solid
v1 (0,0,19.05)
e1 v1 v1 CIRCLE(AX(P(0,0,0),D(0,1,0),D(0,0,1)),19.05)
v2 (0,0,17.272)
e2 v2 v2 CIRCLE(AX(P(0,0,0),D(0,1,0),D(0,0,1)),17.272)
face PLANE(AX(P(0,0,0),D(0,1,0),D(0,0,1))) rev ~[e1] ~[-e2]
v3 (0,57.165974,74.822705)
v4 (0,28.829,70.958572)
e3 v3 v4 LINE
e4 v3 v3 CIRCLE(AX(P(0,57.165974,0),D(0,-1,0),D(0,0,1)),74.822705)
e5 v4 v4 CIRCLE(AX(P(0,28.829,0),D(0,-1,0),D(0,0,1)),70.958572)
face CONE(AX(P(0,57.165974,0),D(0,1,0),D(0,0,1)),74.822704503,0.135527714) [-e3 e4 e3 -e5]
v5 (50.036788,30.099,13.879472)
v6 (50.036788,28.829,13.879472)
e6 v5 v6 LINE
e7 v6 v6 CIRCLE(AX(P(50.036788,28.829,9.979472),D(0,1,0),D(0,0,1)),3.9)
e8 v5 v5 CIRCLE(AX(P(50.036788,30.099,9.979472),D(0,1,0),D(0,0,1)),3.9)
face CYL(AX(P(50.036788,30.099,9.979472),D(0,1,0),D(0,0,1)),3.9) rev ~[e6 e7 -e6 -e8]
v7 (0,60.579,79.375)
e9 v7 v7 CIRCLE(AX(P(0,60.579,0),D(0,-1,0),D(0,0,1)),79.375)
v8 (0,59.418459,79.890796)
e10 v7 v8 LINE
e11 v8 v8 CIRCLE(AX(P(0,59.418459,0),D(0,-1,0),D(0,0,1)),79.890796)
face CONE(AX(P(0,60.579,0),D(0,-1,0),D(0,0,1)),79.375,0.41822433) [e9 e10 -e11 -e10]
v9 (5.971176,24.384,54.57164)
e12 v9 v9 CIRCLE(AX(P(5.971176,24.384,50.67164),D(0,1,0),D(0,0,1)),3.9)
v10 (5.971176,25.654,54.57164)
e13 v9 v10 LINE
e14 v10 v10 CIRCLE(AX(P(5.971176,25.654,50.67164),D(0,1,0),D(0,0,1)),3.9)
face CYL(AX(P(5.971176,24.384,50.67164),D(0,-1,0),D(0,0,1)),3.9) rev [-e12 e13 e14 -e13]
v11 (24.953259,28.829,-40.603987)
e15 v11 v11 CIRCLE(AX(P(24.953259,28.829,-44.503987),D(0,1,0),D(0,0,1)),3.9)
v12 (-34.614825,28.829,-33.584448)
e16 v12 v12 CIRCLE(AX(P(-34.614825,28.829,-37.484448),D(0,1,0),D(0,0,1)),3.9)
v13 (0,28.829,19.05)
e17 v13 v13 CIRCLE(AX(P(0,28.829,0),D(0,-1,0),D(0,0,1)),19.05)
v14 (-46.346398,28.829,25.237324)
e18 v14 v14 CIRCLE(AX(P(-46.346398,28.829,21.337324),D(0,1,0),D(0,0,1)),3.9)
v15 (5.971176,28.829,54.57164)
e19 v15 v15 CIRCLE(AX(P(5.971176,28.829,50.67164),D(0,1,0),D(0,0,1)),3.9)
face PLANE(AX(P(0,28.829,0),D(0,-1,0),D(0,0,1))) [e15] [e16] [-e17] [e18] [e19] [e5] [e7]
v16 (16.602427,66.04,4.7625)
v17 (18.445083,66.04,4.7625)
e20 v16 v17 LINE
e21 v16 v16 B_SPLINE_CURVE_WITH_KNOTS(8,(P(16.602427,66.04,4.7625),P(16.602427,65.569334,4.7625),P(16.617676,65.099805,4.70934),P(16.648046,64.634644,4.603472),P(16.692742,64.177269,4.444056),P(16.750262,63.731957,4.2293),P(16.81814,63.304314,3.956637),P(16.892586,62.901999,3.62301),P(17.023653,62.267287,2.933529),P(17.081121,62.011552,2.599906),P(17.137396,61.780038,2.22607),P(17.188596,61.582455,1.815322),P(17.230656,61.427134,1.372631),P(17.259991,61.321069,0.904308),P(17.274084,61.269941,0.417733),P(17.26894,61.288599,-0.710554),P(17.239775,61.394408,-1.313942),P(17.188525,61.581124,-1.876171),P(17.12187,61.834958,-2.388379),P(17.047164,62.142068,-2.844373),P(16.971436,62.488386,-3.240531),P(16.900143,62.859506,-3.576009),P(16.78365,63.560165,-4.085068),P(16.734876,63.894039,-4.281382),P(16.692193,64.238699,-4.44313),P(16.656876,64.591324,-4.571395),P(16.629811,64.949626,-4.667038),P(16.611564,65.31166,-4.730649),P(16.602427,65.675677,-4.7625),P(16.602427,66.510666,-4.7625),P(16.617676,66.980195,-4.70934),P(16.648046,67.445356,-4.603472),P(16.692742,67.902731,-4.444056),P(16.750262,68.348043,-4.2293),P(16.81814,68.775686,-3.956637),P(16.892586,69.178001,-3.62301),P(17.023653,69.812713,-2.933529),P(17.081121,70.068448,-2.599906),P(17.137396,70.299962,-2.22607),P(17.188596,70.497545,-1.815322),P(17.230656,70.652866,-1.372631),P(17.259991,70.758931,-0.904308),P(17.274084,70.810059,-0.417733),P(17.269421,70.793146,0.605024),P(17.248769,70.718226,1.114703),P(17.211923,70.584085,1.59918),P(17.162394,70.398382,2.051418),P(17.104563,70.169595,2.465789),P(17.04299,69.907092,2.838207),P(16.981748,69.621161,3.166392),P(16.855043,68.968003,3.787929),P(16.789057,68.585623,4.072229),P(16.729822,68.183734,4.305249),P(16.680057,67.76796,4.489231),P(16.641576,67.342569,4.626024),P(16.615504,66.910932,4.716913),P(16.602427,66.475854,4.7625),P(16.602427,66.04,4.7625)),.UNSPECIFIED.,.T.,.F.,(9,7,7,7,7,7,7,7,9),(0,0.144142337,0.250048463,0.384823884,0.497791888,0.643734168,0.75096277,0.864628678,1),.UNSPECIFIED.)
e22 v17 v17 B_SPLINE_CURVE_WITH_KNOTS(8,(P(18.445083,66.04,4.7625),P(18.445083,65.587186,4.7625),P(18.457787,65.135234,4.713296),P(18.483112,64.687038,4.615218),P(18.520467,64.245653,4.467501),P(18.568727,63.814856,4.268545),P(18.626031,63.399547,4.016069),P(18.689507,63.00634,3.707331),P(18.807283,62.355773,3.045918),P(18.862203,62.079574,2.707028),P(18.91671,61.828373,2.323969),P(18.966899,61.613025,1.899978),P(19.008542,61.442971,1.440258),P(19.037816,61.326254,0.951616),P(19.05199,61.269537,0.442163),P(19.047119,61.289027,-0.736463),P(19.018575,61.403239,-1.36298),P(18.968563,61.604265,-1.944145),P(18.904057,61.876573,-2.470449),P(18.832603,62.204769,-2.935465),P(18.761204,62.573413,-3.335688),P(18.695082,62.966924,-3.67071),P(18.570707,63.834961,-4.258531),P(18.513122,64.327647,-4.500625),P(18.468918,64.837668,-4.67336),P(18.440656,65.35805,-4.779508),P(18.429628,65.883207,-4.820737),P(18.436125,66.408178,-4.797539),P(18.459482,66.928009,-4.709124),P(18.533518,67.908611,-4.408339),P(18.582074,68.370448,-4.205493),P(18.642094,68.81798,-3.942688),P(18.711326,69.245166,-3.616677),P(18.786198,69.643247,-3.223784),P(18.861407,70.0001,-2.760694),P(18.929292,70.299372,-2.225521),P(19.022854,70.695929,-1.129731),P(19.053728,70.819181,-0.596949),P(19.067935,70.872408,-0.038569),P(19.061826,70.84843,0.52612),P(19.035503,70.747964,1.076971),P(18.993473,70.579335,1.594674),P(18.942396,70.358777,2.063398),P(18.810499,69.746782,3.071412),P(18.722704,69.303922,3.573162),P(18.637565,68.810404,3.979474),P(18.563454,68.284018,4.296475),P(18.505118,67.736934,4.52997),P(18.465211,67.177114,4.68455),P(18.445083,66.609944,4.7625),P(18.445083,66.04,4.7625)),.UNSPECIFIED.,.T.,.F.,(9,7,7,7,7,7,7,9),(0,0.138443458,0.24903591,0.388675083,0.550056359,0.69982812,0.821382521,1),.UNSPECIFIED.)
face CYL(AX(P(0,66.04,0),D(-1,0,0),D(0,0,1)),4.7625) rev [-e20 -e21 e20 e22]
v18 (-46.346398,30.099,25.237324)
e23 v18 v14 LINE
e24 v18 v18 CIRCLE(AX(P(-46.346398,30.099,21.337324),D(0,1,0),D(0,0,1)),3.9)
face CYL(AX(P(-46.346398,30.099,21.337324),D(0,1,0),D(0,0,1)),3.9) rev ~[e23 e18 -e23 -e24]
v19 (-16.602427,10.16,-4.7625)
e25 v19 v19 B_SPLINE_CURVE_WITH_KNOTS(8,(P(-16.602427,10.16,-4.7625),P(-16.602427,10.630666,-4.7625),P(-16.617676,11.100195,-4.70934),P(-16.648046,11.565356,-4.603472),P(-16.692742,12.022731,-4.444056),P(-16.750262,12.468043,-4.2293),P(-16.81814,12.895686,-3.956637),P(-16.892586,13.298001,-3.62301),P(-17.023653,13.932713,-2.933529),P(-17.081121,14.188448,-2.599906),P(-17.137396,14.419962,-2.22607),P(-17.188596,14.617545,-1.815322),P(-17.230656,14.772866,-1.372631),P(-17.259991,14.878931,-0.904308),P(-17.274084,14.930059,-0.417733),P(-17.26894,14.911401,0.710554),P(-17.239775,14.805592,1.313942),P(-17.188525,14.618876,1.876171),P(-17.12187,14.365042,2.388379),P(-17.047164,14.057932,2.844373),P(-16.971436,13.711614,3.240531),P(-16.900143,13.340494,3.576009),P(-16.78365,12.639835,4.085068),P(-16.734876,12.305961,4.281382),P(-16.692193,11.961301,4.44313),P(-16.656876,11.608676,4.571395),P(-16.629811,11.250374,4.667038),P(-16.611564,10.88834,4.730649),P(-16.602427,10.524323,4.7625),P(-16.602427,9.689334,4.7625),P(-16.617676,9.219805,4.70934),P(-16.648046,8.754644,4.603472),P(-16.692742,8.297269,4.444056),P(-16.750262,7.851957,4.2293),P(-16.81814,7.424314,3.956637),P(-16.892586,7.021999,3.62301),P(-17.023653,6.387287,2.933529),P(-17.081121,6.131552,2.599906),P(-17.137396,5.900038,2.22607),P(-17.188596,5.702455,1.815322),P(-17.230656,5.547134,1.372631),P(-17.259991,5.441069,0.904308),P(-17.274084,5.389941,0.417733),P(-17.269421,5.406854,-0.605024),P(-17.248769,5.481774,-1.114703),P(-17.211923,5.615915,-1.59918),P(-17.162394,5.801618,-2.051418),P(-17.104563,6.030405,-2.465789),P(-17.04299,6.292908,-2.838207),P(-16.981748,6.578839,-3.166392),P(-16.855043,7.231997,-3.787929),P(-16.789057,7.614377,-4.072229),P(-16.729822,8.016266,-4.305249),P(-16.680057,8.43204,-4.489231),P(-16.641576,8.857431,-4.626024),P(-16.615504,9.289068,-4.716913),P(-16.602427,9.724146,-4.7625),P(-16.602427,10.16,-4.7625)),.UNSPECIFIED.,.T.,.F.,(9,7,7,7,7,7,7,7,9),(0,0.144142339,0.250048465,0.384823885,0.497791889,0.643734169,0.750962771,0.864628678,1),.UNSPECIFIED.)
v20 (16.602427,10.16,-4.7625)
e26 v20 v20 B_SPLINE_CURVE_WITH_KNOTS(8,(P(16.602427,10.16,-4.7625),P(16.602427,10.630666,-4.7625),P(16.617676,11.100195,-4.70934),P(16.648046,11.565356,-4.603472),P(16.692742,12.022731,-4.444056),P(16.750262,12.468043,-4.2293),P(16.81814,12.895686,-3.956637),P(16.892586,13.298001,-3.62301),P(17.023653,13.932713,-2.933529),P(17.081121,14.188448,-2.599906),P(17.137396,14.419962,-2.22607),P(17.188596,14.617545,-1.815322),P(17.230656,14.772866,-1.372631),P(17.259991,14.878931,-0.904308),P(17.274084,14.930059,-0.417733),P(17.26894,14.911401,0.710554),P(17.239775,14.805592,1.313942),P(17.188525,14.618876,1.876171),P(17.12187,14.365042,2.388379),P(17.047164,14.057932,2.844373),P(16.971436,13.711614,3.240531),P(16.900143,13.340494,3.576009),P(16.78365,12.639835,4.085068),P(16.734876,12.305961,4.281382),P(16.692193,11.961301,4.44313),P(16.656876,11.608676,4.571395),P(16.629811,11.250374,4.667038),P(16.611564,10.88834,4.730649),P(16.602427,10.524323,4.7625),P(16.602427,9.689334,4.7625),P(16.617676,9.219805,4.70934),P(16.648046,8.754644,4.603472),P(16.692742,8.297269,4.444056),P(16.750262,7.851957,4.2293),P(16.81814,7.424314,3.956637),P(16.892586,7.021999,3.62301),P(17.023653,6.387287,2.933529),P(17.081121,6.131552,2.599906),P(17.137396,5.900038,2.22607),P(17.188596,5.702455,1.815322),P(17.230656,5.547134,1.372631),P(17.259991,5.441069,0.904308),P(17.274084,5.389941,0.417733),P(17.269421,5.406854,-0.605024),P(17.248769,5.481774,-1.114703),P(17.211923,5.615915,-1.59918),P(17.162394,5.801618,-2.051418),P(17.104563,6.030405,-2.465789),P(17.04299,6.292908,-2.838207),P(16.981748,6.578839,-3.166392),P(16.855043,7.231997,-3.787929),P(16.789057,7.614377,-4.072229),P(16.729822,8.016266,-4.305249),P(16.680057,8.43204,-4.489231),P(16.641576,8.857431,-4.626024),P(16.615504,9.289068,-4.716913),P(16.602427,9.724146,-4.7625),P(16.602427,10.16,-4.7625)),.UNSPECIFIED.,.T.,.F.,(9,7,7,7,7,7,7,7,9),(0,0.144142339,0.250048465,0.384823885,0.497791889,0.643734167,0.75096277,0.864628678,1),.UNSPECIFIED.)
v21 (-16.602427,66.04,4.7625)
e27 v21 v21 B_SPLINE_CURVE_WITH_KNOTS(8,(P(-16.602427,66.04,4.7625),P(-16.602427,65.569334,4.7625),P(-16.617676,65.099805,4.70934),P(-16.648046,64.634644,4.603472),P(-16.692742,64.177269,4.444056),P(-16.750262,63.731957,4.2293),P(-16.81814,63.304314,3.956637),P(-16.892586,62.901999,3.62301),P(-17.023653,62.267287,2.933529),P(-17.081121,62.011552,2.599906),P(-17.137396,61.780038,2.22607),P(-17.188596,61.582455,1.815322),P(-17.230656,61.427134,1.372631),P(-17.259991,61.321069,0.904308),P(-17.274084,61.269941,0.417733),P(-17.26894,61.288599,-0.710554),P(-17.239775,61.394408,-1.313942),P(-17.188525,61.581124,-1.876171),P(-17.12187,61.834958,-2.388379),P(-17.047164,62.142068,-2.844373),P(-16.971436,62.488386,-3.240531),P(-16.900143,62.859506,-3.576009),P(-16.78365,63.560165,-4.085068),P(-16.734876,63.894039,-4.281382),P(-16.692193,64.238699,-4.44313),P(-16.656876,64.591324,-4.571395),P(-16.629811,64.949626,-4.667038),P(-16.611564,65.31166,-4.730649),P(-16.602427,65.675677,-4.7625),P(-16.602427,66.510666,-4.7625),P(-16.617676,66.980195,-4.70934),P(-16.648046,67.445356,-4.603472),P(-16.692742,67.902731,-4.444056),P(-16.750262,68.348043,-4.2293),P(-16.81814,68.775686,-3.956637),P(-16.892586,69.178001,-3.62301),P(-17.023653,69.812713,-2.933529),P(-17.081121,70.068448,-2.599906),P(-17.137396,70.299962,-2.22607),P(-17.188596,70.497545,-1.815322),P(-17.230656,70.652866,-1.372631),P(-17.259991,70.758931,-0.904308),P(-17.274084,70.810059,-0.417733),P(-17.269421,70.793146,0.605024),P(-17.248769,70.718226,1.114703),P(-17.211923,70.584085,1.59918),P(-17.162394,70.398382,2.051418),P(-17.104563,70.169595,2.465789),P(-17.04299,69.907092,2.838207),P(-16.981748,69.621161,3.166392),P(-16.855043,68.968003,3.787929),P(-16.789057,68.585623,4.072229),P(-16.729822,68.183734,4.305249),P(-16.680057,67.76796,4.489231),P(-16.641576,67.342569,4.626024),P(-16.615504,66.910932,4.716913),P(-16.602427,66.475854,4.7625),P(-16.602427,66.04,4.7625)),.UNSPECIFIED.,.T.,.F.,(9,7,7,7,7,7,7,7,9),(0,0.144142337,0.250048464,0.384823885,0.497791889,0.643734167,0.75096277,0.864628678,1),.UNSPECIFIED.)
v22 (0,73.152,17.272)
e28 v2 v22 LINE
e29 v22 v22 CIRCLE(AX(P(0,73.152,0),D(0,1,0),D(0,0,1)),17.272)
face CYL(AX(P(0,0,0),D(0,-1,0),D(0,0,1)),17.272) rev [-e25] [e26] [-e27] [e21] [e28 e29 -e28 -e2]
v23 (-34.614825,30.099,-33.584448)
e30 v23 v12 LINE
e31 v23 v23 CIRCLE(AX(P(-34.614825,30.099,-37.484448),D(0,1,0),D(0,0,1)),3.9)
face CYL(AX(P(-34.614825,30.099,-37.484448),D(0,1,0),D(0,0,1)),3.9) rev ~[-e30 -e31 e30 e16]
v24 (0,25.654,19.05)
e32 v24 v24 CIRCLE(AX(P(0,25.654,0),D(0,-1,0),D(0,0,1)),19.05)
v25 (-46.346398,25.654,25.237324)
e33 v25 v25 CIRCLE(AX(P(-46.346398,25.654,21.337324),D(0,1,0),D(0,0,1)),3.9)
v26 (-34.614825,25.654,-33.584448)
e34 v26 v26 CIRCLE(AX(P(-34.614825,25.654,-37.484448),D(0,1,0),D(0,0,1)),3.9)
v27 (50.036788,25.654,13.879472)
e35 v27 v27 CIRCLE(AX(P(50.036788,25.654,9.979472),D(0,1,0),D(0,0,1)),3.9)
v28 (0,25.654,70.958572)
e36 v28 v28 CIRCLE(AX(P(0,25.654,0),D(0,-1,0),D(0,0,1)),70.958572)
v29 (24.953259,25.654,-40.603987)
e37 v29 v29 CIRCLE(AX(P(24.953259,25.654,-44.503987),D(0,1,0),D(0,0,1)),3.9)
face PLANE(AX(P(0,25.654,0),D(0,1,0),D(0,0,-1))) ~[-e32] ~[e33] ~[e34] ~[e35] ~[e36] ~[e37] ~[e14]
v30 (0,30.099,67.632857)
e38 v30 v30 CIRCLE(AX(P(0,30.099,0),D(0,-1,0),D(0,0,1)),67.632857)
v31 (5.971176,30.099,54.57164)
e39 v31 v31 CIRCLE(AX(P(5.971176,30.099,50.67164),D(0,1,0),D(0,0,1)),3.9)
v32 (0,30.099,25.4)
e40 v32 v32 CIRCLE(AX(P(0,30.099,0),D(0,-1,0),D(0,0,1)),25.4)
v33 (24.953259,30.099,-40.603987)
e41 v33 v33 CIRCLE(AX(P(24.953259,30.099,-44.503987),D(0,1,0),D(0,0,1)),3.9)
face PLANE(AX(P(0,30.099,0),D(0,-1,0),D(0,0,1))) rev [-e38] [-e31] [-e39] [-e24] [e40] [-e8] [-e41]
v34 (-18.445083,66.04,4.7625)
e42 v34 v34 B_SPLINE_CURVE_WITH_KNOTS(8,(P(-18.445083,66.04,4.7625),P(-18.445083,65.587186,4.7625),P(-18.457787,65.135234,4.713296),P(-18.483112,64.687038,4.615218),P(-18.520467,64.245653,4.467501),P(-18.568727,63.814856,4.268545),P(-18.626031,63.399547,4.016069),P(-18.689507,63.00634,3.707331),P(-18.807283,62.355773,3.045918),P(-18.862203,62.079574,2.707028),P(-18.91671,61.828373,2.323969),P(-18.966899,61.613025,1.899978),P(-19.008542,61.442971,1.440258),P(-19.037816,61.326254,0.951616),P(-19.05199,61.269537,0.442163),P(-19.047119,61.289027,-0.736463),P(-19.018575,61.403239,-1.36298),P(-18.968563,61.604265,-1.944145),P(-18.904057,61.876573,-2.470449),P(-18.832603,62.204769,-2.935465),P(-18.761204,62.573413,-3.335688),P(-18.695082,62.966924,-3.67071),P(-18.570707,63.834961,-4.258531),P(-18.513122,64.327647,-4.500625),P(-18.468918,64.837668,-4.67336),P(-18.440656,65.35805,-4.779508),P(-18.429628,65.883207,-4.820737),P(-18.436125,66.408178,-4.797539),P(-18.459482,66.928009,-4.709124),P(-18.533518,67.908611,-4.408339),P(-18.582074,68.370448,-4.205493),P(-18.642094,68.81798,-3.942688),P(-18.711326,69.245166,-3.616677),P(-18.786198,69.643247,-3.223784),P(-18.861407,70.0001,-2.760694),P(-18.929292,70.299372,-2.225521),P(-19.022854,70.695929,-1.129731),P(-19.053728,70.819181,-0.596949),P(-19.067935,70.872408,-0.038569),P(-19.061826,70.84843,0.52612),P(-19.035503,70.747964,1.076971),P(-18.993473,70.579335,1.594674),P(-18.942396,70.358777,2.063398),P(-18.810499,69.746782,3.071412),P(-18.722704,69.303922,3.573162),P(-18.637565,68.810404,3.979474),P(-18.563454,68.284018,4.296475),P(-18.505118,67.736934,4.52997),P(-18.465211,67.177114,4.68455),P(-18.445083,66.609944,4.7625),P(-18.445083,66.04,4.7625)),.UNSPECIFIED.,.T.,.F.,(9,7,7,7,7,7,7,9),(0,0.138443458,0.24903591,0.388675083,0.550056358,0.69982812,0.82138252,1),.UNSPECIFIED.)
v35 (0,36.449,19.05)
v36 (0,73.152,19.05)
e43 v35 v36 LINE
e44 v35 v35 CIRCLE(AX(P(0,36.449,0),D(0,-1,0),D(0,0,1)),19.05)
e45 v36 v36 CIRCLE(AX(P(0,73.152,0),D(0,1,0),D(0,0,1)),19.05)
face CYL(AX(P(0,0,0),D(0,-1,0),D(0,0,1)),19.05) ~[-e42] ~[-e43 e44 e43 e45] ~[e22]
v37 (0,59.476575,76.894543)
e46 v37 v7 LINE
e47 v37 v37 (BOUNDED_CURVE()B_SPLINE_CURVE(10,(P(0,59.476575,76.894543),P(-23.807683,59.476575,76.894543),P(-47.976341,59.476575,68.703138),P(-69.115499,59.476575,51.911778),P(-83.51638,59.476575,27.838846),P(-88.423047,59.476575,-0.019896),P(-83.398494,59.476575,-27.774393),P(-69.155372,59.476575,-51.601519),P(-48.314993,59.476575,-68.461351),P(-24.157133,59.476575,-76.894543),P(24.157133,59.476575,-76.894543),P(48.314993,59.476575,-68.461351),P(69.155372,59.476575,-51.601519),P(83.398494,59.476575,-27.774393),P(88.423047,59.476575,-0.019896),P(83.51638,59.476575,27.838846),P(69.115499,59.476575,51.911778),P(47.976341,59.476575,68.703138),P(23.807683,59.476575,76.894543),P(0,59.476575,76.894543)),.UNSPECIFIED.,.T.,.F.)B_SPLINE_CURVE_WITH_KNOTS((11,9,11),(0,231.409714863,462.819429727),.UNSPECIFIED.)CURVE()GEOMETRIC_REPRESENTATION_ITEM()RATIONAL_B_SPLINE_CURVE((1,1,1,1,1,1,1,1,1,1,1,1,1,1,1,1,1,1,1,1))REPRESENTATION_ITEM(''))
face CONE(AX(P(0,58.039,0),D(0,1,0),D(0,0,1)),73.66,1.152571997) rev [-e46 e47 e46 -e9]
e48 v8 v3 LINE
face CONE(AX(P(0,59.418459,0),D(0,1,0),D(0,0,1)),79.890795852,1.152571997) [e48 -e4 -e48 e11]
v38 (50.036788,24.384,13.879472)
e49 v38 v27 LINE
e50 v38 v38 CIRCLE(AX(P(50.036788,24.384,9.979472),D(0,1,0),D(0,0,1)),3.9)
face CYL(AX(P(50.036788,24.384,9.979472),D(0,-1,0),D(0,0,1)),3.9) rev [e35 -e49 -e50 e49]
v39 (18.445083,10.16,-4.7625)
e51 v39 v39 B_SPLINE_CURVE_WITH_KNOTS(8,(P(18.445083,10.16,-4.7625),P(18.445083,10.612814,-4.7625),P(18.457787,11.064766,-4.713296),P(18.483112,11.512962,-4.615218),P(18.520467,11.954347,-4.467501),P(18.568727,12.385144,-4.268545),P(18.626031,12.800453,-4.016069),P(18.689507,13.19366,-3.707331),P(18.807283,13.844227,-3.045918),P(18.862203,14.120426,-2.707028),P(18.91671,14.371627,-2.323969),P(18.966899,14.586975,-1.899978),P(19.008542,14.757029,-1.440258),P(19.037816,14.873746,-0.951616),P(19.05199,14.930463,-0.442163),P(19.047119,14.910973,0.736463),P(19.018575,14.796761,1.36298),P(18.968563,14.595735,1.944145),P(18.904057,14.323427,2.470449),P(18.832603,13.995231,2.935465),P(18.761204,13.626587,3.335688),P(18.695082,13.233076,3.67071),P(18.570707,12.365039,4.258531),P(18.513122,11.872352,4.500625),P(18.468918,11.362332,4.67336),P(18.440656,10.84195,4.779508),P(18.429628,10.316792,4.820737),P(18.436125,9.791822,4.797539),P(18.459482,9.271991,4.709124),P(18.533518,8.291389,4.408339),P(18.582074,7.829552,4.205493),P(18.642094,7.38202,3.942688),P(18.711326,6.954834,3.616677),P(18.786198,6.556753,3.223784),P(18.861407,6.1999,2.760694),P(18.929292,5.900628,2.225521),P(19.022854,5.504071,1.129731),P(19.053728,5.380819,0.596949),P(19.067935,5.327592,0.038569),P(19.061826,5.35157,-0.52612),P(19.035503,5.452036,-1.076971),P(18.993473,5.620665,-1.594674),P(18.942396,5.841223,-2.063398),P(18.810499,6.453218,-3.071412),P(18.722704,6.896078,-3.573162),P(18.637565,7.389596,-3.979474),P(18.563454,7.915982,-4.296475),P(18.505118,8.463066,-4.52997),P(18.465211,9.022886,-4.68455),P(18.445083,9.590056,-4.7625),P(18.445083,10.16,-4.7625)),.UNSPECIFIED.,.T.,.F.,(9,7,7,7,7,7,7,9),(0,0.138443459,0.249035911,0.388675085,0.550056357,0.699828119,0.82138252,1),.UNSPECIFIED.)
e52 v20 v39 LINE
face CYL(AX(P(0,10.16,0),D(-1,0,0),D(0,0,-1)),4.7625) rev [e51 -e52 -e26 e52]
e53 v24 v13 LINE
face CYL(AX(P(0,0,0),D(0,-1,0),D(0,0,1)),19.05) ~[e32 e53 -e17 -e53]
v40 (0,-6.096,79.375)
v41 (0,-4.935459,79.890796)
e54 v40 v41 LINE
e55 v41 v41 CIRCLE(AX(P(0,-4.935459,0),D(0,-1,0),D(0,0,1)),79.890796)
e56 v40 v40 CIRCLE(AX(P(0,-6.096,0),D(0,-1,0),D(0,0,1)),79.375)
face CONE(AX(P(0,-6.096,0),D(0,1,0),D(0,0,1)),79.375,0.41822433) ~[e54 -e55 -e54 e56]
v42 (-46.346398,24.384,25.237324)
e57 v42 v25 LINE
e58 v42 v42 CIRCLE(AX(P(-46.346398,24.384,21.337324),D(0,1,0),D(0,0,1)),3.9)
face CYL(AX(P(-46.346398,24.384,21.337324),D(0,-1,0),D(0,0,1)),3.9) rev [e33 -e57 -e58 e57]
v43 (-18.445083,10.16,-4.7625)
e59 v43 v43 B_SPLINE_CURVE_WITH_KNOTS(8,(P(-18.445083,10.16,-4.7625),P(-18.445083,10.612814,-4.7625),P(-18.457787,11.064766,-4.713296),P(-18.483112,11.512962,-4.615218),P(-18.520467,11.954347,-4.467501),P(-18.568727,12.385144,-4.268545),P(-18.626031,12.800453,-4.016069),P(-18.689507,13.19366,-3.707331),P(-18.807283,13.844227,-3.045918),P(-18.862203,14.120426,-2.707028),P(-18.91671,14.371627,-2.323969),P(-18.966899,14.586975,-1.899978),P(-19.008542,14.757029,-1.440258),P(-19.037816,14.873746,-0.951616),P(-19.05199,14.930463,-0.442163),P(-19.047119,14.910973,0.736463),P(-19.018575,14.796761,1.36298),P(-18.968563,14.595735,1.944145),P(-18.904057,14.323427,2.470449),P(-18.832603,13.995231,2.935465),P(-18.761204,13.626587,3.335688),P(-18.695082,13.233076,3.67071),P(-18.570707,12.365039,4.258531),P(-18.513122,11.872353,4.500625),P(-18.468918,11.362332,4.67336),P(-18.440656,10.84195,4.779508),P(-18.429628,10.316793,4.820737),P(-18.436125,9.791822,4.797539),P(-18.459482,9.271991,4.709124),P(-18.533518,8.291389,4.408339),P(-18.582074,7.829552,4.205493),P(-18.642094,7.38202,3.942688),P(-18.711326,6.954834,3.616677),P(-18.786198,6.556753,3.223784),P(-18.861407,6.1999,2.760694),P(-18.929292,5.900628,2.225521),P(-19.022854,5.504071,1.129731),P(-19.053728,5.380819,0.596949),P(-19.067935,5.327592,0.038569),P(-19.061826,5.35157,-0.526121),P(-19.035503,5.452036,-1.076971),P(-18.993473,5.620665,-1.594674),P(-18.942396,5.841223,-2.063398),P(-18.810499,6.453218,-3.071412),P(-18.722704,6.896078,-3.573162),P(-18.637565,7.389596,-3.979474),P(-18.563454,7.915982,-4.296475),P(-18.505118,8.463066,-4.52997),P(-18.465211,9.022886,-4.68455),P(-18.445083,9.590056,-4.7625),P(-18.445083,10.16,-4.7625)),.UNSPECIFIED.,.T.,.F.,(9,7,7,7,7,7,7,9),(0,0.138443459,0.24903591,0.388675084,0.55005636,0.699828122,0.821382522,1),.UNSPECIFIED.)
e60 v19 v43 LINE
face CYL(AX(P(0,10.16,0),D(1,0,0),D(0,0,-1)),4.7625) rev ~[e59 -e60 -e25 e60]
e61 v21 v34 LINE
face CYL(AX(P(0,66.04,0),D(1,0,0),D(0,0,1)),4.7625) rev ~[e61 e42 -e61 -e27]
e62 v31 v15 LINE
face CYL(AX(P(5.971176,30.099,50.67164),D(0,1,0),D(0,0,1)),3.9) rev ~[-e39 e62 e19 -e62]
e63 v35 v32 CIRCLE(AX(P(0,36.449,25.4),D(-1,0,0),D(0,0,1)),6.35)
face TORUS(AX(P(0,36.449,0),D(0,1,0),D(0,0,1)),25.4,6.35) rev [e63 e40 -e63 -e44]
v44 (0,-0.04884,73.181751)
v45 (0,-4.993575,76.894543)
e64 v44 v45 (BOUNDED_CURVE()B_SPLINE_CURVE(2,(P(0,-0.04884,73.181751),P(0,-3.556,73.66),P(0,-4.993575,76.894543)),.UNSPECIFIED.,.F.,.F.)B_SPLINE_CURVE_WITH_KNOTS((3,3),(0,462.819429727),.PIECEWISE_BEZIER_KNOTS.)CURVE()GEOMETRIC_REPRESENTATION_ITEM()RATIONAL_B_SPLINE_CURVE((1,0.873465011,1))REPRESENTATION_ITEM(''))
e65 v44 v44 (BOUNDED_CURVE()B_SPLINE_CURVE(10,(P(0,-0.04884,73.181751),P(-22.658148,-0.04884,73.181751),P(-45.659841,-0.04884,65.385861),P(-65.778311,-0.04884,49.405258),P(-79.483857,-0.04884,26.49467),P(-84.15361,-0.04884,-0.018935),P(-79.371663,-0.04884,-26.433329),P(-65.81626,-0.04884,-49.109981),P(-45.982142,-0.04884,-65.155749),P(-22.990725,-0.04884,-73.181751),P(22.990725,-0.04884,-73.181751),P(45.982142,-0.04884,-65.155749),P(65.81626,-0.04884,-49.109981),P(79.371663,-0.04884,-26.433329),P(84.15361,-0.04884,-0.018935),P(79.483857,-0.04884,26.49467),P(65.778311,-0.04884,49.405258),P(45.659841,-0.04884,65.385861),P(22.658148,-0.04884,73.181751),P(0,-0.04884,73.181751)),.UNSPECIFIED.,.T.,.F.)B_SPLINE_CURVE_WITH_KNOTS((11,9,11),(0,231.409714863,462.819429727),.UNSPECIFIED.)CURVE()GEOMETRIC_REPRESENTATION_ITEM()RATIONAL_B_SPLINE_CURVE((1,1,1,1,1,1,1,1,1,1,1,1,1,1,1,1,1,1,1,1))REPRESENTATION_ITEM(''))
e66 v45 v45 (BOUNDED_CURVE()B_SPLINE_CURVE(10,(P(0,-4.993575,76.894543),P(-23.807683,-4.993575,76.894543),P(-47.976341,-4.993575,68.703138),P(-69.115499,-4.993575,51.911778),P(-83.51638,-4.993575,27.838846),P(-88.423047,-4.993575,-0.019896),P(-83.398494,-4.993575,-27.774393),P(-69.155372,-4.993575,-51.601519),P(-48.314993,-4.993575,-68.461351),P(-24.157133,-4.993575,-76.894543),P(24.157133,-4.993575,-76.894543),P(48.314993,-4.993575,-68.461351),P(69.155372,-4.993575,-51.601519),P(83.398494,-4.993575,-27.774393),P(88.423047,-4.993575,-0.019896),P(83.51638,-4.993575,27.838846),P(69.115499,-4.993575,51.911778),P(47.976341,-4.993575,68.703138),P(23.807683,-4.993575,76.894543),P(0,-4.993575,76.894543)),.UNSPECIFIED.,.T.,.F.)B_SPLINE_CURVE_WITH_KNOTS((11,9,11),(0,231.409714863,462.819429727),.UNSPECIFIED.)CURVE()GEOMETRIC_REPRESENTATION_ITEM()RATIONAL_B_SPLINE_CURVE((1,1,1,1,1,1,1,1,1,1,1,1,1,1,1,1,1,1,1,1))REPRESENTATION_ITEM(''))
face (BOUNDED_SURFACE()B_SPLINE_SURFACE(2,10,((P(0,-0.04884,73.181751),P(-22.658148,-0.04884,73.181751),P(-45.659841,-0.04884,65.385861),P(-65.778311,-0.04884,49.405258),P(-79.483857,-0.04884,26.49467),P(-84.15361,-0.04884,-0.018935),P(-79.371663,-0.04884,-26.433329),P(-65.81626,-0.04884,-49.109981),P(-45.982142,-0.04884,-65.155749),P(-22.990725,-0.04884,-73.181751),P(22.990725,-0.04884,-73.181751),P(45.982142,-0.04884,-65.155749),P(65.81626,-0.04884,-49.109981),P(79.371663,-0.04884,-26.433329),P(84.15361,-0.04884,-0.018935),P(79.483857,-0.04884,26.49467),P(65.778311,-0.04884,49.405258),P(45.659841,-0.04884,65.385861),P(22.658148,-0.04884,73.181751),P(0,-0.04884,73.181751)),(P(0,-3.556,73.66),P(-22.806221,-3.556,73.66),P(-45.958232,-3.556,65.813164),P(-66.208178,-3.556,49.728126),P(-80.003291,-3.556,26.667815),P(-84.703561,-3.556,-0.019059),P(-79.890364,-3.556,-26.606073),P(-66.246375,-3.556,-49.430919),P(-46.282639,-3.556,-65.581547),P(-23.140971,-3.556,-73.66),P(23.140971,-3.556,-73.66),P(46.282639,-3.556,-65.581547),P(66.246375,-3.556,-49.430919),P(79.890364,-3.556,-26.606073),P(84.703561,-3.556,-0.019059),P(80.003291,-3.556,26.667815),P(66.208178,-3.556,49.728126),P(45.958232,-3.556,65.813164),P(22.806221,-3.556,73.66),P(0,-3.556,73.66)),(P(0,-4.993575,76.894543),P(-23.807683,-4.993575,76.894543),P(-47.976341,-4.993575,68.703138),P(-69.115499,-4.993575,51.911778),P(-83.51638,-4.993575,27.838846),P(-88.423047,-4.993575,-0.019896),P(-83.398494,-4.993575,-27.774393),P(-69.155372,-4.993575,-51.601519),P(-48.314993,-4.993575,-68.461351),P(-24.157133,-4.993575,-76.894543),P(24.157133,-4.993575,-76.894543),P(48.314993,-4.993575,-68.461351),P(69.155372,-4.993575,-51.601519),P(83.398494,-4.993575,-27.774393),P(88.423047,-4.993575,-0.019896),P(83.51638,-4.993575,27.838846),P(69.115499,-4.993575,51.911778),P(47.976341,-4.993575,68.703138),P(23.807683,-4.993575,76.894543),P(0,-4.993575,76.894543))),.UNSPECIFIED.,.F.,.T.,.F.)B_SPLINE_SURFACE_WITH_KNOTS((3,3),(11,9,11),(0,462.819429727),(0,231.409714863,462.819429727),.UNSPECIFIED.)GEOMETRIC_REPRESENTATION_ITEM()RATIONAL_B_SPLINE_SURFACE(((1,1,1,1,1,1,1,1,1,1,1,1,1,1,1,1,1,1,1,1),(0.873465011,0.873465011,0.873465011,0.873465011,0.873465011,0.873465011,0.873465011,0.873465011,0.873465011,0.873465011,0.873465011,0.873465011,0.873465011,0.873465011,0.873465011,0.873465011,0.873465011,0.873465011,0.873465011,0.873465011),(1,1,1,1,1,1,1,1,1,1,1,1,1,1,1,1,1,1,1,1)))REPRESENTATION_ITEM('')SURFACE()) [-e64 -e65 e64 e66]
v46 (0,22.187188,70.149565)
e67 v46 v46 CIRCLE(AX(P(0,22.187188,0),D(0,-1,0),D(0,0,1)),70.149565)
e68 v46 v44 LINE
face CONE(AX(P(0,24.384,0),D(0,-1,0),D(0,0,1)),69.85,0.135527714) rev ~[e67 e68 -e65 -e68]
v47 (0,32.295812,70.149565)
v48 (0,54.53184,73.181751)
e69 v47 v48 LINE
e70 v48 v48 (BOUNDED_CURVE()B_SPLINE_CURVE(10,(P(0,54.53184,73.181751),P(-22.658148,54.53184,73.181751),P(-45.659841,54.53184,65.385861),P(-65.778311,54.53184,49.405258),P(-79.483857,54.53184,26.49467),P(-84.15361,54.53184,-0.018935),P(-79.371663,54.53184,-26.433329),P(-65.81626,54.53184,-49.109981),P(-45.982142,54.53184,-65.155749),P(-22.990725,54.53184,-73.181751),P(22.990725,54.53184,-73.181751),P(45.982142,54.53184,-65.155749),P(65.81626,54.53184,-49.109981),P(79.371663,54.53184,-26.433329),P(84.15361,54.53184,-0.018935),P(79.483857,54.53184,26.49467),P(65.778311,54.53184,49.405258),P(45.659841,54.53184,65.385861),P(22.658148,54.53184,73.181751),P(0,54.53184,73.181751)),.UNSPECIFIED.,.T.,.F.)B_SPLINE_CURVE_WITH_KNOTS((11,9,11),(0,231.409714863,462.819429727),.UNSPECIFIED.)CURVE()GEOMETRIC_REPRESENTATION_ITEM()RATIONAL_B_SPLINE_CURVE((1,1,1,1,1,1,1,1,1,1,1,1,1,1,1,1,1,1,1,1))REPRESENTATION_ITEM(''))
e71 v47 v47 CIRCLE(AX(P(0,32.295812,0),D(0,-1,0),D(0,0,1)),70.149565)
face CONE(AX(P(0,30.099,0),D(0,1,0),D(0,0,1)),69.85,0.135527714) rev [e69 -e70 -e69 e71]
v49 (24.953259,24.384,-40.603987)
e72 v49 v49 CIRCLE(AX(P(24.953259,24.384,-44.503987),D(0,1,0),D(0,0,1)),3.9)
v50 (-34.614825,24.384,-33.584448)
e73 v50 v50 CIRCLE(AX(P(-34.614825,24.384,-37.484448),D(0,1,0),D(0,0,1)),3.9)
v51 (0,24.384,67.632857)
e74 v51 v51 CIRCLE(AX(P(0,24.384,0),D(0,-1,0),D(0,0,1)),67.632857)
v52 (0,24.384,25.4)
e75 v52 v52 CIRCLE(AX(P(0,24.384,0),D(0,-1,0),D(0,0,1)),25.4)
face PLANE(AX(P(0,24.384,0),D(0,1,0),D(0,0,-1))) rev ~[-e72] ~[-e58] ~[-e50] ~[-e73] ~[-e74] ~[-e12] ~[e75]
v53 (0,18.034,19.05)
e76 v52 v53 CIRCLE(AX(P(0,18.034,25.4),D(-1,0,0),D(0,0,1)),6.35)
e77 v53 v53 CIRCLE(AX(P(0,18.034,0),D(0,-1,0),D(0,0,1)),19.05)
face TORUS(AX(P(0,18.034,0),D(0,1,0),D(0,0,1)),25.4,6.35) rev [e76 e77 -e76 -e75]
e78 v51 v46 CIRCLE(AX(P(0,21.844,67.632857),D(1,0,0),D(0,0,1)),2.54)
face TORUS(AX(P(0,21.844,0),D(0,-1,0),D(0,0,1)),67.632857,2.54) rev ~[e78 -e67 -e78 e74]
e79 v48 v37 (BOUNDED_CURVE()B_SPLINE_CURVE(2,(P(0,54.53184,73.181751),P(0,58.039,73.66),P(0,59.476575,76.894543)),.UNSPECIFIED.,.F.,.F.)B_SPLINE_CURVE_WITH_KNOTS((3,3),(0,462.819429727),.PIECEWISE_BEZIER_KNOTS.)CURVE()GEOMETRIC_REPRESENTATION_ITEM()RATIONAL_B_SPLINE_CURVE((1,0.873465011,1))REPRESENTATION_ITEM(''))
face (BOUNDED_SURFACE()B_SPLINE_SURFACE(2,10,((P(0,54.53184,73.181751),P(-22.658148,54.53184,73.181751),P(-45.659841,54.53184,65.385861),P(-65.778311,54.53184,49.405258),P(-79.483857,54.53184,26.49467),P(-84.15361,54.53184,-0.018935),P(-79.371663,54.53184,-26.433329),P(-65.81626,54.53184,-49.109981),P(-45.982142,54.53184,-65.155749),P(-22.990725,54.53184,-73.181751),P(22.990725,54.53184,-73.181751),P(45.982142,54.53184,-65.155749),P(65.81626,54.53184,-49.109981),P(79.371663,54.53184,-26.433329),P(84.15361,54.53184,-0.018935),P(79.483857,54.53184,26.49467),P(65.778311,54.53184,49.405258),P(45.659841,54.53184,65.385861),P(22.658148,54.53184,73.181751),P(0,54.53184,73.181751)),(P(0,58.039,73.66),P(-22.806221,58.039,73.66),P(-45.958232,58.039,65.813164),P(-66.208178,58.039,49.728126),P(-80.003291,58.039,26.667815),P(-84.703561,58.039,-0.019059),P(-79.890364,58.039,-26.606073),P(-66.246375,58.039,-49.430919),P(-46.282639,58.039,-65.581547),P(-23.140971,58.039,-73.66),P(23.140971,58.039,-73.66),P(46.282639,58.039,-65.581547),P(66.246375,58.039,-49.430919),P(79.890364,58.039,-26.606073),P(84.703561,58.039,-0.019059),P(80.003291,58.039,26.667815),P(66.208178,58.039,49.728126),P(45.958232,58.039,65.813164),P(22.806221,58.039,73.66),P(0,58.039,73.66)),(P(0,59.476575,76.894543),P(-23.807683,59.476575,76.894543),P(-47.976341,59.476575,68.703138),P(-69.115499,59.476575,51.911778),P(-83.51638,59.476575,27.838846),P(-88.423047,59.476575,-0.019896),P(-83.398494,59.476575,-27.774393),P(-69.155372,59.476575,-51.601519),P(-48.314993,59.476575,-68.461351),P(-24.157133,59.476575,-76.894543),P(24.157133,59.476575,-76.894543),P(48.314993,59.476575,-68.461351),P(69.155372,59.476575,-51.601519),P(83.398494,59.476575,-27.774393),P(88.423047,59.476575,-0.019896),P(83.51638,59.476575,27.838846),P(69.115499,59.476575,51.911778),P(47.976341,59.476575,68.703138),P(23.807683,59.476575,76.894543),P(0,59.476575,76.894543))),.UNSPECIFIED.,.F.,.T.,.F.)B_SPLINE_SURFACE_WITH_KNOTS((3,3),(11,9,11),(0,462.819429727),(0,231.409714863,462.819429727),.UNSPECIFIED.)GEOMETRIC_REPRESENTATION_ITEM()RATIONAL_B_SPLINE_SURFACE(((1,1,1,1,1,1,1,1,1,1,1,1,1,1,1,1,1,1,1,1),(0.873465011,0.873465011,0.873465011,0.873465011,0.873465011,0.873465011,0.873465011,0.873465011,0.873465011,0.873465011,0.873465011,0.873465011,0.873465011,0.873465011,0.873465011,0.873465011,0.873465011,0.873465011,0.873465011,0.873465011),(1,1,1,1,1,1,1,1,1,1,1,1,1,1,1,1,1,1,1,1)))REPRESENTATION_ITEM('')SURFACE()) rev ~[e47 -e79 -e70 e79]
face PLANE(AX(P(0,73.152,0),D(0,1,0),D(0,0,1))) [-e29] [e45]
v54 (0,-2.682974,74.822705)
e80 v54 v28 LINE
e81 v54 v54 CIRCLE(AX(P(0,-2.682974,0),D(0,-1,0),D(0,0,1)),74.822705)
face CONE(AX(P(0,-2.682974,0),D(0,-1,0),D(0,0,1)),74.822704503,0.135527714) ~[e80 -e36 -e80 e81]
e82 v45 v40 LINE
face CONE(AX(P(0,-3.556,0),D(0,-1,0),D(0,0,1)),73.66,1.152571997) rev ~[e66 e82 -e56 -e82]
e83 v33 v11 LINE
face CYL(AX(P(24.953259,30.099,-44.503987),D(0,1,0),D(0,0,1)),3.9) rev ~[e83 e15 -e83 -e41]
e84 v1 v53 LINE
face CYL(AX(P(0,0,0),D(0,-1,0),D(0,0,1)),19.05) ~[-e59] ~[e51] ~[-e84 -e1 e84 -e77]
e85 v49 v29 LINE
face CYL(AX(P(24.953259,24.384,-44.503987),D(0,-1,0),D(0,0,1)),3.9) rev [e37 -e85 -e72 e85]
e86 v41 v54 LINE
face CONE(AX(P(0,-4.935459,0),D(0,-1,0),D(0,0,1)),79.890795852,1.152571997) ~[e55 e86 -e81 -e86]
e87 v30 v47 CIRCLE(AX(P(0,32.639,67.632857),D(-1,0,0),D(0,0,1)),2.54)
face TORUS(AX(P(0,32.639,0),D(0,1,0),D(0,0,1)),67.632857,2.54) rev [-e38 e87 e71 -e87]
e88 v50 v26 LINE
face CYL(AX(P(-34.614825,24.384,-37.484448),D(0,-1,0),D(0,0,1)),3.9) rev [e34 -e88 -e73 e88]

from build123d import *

# Parameters (mm, degrees)
SKETCH1_R                      = 19.05
SKETCH1_R_2                    = 17.272
BOSS_EXTRUDE1_DEPTH            = 73.152
FILLET1_R                      = 6.35
FILLET2_R                      = 2.54
FILLET3_R                      = 6.35
CUT_EXTRUDE1_REACH             = 122.908
SKETCH2_R                      = 3.9
FILLET1_OF_MIRROR1_R           = 6.35
FILLET2_OF_MIRROR1_R           = 2.54
FILLET3_OF_MIRROR1_R           = 6.35
CUT_EXTRUDE2_REACH             = 136.597
SKETCH4_R                      = 4.7625
CUT_EXTRUDE2_DIRECTION_2_REACH = 136.597


with BuildPart() as part:
    # Sketch1 → Boss-Extrude1 (new body)
    with BuildSketch(Plane(origin=(0, 0, 0), x_dir=(1, 0, 0), z_dir=(0, 1, 0))):
        with Locations(Location((0, 0, 0), (0, 0, 270))):
            Circle(SKETCH1_R)
        with Locations(Location((0, 0, 0), (0, 0, 270))):
            Circle(SKETCH1_R_2, mode=Mode.SUBTRACT)
    extrude(amount=BOSS_EXTRUDE1_DEPTH)

    # Sketch3 → Revolve1 (revolve)
    with BuildSketch(Plane(origin=(0, 0, 0), x_dir=(0, 0, -1), z_dir=(1, 0, 0))):
        Polygon((-19.05, 30.099), (-69.85, 30.099), (-73.66, 58.039), (-79.375, 60.579), (-79.890795852, 59.418459333), (-74.822704503, 57.165974289), (-70.958571646, 28.829), (-19.05, 28.829), align=None)
    revolve1 = revolve(axis=Axis((0, 73.152, 0), (0, -1, 0)))

    # Fillet1
    fillet1_edges = [part.edges().sort_by_distance(p)[0] for p in [
        (0, 30.099, -19.05),
    ]]
    fillet(fillet1_edges, radius=FILLET1_R)

    # Fillet2
    fillet2_edges = [part.edges().sort_by_distance(p)[0] for p in [
        (0, 30.099, -69.85),
    ]]
    fillet(fillet2_edges, radius=FILLET2_R)

    # Fillet3
    fillet3_edges = [part.edges().sort_by_distance(p)[0] for p in [
        (0, 58.039, -73.66),
    ]]
    fillet(fillet3_edges, radius=FILLET3_R)

    # Sketch2 → Cut-Extrude1 (cut, up to next)
    with BuildSketch(Plane(origin=(0, 30.099, 0), x_dir=(1, 0, 0), z_dir=(0, 1, 0)), mode=Mode.PRIVATE) as cut_extrude1_sk1:
        with Locations(Location((-34.614825389, 37.48444822, 0), (0, 0, 270))):
            Circle(SKETCH2_R)
    cut_extrude1_tool1 = extrude(cut_extrude1_sk1.sketch, amount=-CUT_EXTRUDE1_REACH, mode=Mode.PRIVATE) & part.part
    # Sketch2 → Cut-Extrude1 (cut, up to next)
    with BuildSketch(Plane(origin=(0, 30.099, 0), x_dir=(1, 0, 0), z_dir=(0, 1, 0)), mode=Mode.PRIVATE) as cut_extrude1_sk2:
        with Locations(Location((24.953259436, 44.503986772, 0), (0, 0, 270))):
            Circle(SKETCH2_R)
    cut_extrude1_tool2 = extrude(cut_extrude1_sk2.sketch, amount=-CUT_EXTRUDE1_REACH, mode=Mode.PRIVATE) & part.part
    # Sketch2 → Cut-Extrude1 (cut, up to next)
    with BuildSketch(Plane(origin=(0, 30.099, 0), x_dir=(1, 0, 0), z_dir=(0, 1, 0)), mode=Mode.PRIVATE) as cut_extrude1_sk3:
        with Locations(Location((50.036787851, -9.97947176, 0), (0, 0, 270))):
            Circle(SKETCH2_R)
    cut_extrude1_tool3 = extrude(cut_extrude1_sk3.sketch, amount=-CUT_EXTRUDE1_REACH, mode=Mode.PRIVATE) & part.part
    # Sketch2 → Cut-Extrude1 (cut, up to next)
    with BuildSketch(Plane(origin=(0, 30.099, 0), x_dir=(1, 0, 0), z_dir=(0, 1, 0)), mode=Mode.PRIVATE) as cut_extrude1_sk4:
        with Locations(Location((5.971176144, -50.671639509, 0), (0, 0, 270))):
            Circle(SKETCH2_R)
    cut_extrude1_tool4 = extrude(cut_extrude1_sk4.sketch, amount=-CUT_EXTRUDE1_REACH, mode=Mode.PRIVATE) & part.part
    # Sketch2 → Cut-Extrude1 (cut, up to next)
    with BuildSketch(Plane(origin=(0, 30.099, 0), x_dir=(1, 0, 0), z_dir=(0, 1, 0)), mode=Mode.PRIVATE) as cut_extrude1_sk5:
        with Locations(Location((-46.346398042, -21.337323722, 0), (0, 0, 270))):
            Circle(SKETCH2_R)
    cut_extrude1_tool5 = extrude(cut_extrude1_sk5.sketch, amount=-CUT_EXTRUDE1_REACH, mode=Mode.PRIVATE) & part.part
    cut_extrude1_1 = cut_extrude1_tool1.solids().sort_by_distance((-34.614825, 30.099, -37.484448))[0]
    add(cut_extrude1_1, mode=Mode.SUBTRACT)
    cut_extrude1_2 = cut_extrude1_tool2.solids().sort_by_distance((24.953259, 30.099, -44.503987))[0]
    add(cut_extrude1_2, mode=Mode.SUBTRACT)
    cut_extrude1_3 = cut_extrude1_tool3.solids().sort_by_distance((50.036788, 30.099, 9.979472))[0]
    add(cut_extrude1_3, mode=Mode.SUBTRACT)
    cut_extrude1_4 = cut_extrude1_tool4.solids().sort_by_distance((5.971176, 30.099, 50.67164))[0]
    add(cut_extrude1_4, mode=Mode.SUBTRACT)
    cut_extrude1_5 = cut_extrude1_tool5.solids().sort_by_distance((-46.346398, 30.099, 21.337324))[0]
    add(cut_extrude1_5, mode=Mode.SUBTRACT)
    cut_extrude1 = cut_extrude1_1 + cut_extrude1_2 + cut_extrude1_3 + cut_extrude1_4 + cut_extrude1_5  # Cut-Extrude1 as one shape, for the pattern or mirror that repeats it

    # Mirror1: Revolve1, Cut-Extrude1 across plane
    add(revolve1.mirror(Plane(origin=(0, 27.2415, 0), x_dir=(0, 0, 1), z_dir=(0, -1, 0))))
    add(cut_extrude1.mirror(Plane(origin=(0, 27.2415, 0), x_dir=(0, 0, 1), z_dir=(0, -1, 0))), mode=Mode.SUBTRACT)

    # Fillet1 of Mirror1
    fillet1_of_mirror1_edges = [part.edges().sort_by_distance(p)[0] for p in [
        (0, 24.384, -19.05),
    ]]
    fillet(fillet1_of_mirror1_edges, radius=FILLET1_OF_MIRROR1_R)

    # Fillet2 of Mirror1
    fillet2_of_mirror1_edges = [part.edges().sort_by_distance(p)[0] for p in [
        (0, 24.384, -69.85),
    ]]
    fillet(fillet2_of_mirror1_edges, radius=FILLET2_OF_MIRROR1_R)

    # Fillet3 of Mirror1
    fillet3_of_mirror1_edges = [part.edges().sort_by_distance(p)[0] for p in [
        (0, -3.556, -73.66),
    ]]
    fillet(fillet3_of_mirror1_edges, radius=FILLET3_OF_MIRROR1_R)

    # Sketch4 → Cut-Extrude2 (cut, up to next)
    with BuildSketch(Plane(origin=(0, 0, 0), x_dir=(0, 0, -1), z_dir=(1, 0, 0)), mode=Mode.PRIVATE) as cut_extrude2_sk1:
        with Locations(Location((0, 66.04, 0), (0, 0, 180))):
            Circle(SKETCH4_R)
    cut_extrude2_tool1 = extrude(cut_extrude2_sk1.sketch, amount=-CUT_EXTRUDE2_REACH, mode=Mode.PRIVATE) & part.part
    # Sketch4 → Cut-Extrude2 (cut, up to next)
    with BuildSketch(Plane(origin=(0, 0, 0), x_dir=(0, 0, -1), z_dir=(1, 0, 0)), mode=Mode.PRIVATE) as cut_extrude2_sk2:
        with Locations((0, 10.16)):
            Circle(SKETCH4_R)
    cut_extrude2_tool2 = extrude(cut_extrude2_sk2.sketch, amount=-CUT_EXTRUDE2_REACH, mode=Mode.PRIVATE) & part.part
    add(cut_extrude2_tool1.solids().sort_by_distance((0, 66.04, 0))[0], mode=Mode.SUBTRACT)
    add(cut_extrude2_tool2.solids().sort_by_distance((0, 10.16, 0))[0], mode=Mode.SUBTRACT)

    # Sketch4 → Cut-Extrude2 direction 2 (cut, up to next)
    with BuildSketch(Plane(origin=(0, 0, 0), x_dir=(0, 0, -1), z_dir=(1, 0, 0)), mode=Mode.PRIVATE) as cut_extrude2_direction_2_sk1:
        with Locations(Location((0, 66.04, 0), (0, 0, 180))):
            Circle(SKETCH4_R)
    cut_extrude2_direction_2_tool1 = extrude(cut_extrude2_direction_2_sk1.sketch, amount=CUT_EXTRUDE2_DIRECTION_2_REACH, mode=Mode.PRIVATE) & part.part
    # Sketch4 → Cut-Extrude2 direction 2 (cut, up to next)
    with BuildSketch(Plane(origin=(0, 0, 0), x_dir=(0, 0, -1), z_dir=(1, 0, 0)), mode=Mode.PRIVATE) as cut_extrude2_direction_2_sk2:
        with Locations((0, 10.16)):
            Circle(SKETCH4_R)
    cut_extrude2_direction_2_tool2 = extrude(cut_extrude2_direction_2_sk2.sketch, amount=CUT_EXTRUDE2_DIRECTION_2_REACH, mode=Mode.PRIVATE) & part.part
    add(cut_extrude2_direction_2_tool1.solids().sort_by_distance((0, 66.04, 0))[0], mode=Mode.SUBTRACT)
    add(cut_extrude2_direction_2_tool2.solids().sort_by_distance((0, 10.16, 0))[0], mode=Mode.SUBTRACT)


solid = part.part
